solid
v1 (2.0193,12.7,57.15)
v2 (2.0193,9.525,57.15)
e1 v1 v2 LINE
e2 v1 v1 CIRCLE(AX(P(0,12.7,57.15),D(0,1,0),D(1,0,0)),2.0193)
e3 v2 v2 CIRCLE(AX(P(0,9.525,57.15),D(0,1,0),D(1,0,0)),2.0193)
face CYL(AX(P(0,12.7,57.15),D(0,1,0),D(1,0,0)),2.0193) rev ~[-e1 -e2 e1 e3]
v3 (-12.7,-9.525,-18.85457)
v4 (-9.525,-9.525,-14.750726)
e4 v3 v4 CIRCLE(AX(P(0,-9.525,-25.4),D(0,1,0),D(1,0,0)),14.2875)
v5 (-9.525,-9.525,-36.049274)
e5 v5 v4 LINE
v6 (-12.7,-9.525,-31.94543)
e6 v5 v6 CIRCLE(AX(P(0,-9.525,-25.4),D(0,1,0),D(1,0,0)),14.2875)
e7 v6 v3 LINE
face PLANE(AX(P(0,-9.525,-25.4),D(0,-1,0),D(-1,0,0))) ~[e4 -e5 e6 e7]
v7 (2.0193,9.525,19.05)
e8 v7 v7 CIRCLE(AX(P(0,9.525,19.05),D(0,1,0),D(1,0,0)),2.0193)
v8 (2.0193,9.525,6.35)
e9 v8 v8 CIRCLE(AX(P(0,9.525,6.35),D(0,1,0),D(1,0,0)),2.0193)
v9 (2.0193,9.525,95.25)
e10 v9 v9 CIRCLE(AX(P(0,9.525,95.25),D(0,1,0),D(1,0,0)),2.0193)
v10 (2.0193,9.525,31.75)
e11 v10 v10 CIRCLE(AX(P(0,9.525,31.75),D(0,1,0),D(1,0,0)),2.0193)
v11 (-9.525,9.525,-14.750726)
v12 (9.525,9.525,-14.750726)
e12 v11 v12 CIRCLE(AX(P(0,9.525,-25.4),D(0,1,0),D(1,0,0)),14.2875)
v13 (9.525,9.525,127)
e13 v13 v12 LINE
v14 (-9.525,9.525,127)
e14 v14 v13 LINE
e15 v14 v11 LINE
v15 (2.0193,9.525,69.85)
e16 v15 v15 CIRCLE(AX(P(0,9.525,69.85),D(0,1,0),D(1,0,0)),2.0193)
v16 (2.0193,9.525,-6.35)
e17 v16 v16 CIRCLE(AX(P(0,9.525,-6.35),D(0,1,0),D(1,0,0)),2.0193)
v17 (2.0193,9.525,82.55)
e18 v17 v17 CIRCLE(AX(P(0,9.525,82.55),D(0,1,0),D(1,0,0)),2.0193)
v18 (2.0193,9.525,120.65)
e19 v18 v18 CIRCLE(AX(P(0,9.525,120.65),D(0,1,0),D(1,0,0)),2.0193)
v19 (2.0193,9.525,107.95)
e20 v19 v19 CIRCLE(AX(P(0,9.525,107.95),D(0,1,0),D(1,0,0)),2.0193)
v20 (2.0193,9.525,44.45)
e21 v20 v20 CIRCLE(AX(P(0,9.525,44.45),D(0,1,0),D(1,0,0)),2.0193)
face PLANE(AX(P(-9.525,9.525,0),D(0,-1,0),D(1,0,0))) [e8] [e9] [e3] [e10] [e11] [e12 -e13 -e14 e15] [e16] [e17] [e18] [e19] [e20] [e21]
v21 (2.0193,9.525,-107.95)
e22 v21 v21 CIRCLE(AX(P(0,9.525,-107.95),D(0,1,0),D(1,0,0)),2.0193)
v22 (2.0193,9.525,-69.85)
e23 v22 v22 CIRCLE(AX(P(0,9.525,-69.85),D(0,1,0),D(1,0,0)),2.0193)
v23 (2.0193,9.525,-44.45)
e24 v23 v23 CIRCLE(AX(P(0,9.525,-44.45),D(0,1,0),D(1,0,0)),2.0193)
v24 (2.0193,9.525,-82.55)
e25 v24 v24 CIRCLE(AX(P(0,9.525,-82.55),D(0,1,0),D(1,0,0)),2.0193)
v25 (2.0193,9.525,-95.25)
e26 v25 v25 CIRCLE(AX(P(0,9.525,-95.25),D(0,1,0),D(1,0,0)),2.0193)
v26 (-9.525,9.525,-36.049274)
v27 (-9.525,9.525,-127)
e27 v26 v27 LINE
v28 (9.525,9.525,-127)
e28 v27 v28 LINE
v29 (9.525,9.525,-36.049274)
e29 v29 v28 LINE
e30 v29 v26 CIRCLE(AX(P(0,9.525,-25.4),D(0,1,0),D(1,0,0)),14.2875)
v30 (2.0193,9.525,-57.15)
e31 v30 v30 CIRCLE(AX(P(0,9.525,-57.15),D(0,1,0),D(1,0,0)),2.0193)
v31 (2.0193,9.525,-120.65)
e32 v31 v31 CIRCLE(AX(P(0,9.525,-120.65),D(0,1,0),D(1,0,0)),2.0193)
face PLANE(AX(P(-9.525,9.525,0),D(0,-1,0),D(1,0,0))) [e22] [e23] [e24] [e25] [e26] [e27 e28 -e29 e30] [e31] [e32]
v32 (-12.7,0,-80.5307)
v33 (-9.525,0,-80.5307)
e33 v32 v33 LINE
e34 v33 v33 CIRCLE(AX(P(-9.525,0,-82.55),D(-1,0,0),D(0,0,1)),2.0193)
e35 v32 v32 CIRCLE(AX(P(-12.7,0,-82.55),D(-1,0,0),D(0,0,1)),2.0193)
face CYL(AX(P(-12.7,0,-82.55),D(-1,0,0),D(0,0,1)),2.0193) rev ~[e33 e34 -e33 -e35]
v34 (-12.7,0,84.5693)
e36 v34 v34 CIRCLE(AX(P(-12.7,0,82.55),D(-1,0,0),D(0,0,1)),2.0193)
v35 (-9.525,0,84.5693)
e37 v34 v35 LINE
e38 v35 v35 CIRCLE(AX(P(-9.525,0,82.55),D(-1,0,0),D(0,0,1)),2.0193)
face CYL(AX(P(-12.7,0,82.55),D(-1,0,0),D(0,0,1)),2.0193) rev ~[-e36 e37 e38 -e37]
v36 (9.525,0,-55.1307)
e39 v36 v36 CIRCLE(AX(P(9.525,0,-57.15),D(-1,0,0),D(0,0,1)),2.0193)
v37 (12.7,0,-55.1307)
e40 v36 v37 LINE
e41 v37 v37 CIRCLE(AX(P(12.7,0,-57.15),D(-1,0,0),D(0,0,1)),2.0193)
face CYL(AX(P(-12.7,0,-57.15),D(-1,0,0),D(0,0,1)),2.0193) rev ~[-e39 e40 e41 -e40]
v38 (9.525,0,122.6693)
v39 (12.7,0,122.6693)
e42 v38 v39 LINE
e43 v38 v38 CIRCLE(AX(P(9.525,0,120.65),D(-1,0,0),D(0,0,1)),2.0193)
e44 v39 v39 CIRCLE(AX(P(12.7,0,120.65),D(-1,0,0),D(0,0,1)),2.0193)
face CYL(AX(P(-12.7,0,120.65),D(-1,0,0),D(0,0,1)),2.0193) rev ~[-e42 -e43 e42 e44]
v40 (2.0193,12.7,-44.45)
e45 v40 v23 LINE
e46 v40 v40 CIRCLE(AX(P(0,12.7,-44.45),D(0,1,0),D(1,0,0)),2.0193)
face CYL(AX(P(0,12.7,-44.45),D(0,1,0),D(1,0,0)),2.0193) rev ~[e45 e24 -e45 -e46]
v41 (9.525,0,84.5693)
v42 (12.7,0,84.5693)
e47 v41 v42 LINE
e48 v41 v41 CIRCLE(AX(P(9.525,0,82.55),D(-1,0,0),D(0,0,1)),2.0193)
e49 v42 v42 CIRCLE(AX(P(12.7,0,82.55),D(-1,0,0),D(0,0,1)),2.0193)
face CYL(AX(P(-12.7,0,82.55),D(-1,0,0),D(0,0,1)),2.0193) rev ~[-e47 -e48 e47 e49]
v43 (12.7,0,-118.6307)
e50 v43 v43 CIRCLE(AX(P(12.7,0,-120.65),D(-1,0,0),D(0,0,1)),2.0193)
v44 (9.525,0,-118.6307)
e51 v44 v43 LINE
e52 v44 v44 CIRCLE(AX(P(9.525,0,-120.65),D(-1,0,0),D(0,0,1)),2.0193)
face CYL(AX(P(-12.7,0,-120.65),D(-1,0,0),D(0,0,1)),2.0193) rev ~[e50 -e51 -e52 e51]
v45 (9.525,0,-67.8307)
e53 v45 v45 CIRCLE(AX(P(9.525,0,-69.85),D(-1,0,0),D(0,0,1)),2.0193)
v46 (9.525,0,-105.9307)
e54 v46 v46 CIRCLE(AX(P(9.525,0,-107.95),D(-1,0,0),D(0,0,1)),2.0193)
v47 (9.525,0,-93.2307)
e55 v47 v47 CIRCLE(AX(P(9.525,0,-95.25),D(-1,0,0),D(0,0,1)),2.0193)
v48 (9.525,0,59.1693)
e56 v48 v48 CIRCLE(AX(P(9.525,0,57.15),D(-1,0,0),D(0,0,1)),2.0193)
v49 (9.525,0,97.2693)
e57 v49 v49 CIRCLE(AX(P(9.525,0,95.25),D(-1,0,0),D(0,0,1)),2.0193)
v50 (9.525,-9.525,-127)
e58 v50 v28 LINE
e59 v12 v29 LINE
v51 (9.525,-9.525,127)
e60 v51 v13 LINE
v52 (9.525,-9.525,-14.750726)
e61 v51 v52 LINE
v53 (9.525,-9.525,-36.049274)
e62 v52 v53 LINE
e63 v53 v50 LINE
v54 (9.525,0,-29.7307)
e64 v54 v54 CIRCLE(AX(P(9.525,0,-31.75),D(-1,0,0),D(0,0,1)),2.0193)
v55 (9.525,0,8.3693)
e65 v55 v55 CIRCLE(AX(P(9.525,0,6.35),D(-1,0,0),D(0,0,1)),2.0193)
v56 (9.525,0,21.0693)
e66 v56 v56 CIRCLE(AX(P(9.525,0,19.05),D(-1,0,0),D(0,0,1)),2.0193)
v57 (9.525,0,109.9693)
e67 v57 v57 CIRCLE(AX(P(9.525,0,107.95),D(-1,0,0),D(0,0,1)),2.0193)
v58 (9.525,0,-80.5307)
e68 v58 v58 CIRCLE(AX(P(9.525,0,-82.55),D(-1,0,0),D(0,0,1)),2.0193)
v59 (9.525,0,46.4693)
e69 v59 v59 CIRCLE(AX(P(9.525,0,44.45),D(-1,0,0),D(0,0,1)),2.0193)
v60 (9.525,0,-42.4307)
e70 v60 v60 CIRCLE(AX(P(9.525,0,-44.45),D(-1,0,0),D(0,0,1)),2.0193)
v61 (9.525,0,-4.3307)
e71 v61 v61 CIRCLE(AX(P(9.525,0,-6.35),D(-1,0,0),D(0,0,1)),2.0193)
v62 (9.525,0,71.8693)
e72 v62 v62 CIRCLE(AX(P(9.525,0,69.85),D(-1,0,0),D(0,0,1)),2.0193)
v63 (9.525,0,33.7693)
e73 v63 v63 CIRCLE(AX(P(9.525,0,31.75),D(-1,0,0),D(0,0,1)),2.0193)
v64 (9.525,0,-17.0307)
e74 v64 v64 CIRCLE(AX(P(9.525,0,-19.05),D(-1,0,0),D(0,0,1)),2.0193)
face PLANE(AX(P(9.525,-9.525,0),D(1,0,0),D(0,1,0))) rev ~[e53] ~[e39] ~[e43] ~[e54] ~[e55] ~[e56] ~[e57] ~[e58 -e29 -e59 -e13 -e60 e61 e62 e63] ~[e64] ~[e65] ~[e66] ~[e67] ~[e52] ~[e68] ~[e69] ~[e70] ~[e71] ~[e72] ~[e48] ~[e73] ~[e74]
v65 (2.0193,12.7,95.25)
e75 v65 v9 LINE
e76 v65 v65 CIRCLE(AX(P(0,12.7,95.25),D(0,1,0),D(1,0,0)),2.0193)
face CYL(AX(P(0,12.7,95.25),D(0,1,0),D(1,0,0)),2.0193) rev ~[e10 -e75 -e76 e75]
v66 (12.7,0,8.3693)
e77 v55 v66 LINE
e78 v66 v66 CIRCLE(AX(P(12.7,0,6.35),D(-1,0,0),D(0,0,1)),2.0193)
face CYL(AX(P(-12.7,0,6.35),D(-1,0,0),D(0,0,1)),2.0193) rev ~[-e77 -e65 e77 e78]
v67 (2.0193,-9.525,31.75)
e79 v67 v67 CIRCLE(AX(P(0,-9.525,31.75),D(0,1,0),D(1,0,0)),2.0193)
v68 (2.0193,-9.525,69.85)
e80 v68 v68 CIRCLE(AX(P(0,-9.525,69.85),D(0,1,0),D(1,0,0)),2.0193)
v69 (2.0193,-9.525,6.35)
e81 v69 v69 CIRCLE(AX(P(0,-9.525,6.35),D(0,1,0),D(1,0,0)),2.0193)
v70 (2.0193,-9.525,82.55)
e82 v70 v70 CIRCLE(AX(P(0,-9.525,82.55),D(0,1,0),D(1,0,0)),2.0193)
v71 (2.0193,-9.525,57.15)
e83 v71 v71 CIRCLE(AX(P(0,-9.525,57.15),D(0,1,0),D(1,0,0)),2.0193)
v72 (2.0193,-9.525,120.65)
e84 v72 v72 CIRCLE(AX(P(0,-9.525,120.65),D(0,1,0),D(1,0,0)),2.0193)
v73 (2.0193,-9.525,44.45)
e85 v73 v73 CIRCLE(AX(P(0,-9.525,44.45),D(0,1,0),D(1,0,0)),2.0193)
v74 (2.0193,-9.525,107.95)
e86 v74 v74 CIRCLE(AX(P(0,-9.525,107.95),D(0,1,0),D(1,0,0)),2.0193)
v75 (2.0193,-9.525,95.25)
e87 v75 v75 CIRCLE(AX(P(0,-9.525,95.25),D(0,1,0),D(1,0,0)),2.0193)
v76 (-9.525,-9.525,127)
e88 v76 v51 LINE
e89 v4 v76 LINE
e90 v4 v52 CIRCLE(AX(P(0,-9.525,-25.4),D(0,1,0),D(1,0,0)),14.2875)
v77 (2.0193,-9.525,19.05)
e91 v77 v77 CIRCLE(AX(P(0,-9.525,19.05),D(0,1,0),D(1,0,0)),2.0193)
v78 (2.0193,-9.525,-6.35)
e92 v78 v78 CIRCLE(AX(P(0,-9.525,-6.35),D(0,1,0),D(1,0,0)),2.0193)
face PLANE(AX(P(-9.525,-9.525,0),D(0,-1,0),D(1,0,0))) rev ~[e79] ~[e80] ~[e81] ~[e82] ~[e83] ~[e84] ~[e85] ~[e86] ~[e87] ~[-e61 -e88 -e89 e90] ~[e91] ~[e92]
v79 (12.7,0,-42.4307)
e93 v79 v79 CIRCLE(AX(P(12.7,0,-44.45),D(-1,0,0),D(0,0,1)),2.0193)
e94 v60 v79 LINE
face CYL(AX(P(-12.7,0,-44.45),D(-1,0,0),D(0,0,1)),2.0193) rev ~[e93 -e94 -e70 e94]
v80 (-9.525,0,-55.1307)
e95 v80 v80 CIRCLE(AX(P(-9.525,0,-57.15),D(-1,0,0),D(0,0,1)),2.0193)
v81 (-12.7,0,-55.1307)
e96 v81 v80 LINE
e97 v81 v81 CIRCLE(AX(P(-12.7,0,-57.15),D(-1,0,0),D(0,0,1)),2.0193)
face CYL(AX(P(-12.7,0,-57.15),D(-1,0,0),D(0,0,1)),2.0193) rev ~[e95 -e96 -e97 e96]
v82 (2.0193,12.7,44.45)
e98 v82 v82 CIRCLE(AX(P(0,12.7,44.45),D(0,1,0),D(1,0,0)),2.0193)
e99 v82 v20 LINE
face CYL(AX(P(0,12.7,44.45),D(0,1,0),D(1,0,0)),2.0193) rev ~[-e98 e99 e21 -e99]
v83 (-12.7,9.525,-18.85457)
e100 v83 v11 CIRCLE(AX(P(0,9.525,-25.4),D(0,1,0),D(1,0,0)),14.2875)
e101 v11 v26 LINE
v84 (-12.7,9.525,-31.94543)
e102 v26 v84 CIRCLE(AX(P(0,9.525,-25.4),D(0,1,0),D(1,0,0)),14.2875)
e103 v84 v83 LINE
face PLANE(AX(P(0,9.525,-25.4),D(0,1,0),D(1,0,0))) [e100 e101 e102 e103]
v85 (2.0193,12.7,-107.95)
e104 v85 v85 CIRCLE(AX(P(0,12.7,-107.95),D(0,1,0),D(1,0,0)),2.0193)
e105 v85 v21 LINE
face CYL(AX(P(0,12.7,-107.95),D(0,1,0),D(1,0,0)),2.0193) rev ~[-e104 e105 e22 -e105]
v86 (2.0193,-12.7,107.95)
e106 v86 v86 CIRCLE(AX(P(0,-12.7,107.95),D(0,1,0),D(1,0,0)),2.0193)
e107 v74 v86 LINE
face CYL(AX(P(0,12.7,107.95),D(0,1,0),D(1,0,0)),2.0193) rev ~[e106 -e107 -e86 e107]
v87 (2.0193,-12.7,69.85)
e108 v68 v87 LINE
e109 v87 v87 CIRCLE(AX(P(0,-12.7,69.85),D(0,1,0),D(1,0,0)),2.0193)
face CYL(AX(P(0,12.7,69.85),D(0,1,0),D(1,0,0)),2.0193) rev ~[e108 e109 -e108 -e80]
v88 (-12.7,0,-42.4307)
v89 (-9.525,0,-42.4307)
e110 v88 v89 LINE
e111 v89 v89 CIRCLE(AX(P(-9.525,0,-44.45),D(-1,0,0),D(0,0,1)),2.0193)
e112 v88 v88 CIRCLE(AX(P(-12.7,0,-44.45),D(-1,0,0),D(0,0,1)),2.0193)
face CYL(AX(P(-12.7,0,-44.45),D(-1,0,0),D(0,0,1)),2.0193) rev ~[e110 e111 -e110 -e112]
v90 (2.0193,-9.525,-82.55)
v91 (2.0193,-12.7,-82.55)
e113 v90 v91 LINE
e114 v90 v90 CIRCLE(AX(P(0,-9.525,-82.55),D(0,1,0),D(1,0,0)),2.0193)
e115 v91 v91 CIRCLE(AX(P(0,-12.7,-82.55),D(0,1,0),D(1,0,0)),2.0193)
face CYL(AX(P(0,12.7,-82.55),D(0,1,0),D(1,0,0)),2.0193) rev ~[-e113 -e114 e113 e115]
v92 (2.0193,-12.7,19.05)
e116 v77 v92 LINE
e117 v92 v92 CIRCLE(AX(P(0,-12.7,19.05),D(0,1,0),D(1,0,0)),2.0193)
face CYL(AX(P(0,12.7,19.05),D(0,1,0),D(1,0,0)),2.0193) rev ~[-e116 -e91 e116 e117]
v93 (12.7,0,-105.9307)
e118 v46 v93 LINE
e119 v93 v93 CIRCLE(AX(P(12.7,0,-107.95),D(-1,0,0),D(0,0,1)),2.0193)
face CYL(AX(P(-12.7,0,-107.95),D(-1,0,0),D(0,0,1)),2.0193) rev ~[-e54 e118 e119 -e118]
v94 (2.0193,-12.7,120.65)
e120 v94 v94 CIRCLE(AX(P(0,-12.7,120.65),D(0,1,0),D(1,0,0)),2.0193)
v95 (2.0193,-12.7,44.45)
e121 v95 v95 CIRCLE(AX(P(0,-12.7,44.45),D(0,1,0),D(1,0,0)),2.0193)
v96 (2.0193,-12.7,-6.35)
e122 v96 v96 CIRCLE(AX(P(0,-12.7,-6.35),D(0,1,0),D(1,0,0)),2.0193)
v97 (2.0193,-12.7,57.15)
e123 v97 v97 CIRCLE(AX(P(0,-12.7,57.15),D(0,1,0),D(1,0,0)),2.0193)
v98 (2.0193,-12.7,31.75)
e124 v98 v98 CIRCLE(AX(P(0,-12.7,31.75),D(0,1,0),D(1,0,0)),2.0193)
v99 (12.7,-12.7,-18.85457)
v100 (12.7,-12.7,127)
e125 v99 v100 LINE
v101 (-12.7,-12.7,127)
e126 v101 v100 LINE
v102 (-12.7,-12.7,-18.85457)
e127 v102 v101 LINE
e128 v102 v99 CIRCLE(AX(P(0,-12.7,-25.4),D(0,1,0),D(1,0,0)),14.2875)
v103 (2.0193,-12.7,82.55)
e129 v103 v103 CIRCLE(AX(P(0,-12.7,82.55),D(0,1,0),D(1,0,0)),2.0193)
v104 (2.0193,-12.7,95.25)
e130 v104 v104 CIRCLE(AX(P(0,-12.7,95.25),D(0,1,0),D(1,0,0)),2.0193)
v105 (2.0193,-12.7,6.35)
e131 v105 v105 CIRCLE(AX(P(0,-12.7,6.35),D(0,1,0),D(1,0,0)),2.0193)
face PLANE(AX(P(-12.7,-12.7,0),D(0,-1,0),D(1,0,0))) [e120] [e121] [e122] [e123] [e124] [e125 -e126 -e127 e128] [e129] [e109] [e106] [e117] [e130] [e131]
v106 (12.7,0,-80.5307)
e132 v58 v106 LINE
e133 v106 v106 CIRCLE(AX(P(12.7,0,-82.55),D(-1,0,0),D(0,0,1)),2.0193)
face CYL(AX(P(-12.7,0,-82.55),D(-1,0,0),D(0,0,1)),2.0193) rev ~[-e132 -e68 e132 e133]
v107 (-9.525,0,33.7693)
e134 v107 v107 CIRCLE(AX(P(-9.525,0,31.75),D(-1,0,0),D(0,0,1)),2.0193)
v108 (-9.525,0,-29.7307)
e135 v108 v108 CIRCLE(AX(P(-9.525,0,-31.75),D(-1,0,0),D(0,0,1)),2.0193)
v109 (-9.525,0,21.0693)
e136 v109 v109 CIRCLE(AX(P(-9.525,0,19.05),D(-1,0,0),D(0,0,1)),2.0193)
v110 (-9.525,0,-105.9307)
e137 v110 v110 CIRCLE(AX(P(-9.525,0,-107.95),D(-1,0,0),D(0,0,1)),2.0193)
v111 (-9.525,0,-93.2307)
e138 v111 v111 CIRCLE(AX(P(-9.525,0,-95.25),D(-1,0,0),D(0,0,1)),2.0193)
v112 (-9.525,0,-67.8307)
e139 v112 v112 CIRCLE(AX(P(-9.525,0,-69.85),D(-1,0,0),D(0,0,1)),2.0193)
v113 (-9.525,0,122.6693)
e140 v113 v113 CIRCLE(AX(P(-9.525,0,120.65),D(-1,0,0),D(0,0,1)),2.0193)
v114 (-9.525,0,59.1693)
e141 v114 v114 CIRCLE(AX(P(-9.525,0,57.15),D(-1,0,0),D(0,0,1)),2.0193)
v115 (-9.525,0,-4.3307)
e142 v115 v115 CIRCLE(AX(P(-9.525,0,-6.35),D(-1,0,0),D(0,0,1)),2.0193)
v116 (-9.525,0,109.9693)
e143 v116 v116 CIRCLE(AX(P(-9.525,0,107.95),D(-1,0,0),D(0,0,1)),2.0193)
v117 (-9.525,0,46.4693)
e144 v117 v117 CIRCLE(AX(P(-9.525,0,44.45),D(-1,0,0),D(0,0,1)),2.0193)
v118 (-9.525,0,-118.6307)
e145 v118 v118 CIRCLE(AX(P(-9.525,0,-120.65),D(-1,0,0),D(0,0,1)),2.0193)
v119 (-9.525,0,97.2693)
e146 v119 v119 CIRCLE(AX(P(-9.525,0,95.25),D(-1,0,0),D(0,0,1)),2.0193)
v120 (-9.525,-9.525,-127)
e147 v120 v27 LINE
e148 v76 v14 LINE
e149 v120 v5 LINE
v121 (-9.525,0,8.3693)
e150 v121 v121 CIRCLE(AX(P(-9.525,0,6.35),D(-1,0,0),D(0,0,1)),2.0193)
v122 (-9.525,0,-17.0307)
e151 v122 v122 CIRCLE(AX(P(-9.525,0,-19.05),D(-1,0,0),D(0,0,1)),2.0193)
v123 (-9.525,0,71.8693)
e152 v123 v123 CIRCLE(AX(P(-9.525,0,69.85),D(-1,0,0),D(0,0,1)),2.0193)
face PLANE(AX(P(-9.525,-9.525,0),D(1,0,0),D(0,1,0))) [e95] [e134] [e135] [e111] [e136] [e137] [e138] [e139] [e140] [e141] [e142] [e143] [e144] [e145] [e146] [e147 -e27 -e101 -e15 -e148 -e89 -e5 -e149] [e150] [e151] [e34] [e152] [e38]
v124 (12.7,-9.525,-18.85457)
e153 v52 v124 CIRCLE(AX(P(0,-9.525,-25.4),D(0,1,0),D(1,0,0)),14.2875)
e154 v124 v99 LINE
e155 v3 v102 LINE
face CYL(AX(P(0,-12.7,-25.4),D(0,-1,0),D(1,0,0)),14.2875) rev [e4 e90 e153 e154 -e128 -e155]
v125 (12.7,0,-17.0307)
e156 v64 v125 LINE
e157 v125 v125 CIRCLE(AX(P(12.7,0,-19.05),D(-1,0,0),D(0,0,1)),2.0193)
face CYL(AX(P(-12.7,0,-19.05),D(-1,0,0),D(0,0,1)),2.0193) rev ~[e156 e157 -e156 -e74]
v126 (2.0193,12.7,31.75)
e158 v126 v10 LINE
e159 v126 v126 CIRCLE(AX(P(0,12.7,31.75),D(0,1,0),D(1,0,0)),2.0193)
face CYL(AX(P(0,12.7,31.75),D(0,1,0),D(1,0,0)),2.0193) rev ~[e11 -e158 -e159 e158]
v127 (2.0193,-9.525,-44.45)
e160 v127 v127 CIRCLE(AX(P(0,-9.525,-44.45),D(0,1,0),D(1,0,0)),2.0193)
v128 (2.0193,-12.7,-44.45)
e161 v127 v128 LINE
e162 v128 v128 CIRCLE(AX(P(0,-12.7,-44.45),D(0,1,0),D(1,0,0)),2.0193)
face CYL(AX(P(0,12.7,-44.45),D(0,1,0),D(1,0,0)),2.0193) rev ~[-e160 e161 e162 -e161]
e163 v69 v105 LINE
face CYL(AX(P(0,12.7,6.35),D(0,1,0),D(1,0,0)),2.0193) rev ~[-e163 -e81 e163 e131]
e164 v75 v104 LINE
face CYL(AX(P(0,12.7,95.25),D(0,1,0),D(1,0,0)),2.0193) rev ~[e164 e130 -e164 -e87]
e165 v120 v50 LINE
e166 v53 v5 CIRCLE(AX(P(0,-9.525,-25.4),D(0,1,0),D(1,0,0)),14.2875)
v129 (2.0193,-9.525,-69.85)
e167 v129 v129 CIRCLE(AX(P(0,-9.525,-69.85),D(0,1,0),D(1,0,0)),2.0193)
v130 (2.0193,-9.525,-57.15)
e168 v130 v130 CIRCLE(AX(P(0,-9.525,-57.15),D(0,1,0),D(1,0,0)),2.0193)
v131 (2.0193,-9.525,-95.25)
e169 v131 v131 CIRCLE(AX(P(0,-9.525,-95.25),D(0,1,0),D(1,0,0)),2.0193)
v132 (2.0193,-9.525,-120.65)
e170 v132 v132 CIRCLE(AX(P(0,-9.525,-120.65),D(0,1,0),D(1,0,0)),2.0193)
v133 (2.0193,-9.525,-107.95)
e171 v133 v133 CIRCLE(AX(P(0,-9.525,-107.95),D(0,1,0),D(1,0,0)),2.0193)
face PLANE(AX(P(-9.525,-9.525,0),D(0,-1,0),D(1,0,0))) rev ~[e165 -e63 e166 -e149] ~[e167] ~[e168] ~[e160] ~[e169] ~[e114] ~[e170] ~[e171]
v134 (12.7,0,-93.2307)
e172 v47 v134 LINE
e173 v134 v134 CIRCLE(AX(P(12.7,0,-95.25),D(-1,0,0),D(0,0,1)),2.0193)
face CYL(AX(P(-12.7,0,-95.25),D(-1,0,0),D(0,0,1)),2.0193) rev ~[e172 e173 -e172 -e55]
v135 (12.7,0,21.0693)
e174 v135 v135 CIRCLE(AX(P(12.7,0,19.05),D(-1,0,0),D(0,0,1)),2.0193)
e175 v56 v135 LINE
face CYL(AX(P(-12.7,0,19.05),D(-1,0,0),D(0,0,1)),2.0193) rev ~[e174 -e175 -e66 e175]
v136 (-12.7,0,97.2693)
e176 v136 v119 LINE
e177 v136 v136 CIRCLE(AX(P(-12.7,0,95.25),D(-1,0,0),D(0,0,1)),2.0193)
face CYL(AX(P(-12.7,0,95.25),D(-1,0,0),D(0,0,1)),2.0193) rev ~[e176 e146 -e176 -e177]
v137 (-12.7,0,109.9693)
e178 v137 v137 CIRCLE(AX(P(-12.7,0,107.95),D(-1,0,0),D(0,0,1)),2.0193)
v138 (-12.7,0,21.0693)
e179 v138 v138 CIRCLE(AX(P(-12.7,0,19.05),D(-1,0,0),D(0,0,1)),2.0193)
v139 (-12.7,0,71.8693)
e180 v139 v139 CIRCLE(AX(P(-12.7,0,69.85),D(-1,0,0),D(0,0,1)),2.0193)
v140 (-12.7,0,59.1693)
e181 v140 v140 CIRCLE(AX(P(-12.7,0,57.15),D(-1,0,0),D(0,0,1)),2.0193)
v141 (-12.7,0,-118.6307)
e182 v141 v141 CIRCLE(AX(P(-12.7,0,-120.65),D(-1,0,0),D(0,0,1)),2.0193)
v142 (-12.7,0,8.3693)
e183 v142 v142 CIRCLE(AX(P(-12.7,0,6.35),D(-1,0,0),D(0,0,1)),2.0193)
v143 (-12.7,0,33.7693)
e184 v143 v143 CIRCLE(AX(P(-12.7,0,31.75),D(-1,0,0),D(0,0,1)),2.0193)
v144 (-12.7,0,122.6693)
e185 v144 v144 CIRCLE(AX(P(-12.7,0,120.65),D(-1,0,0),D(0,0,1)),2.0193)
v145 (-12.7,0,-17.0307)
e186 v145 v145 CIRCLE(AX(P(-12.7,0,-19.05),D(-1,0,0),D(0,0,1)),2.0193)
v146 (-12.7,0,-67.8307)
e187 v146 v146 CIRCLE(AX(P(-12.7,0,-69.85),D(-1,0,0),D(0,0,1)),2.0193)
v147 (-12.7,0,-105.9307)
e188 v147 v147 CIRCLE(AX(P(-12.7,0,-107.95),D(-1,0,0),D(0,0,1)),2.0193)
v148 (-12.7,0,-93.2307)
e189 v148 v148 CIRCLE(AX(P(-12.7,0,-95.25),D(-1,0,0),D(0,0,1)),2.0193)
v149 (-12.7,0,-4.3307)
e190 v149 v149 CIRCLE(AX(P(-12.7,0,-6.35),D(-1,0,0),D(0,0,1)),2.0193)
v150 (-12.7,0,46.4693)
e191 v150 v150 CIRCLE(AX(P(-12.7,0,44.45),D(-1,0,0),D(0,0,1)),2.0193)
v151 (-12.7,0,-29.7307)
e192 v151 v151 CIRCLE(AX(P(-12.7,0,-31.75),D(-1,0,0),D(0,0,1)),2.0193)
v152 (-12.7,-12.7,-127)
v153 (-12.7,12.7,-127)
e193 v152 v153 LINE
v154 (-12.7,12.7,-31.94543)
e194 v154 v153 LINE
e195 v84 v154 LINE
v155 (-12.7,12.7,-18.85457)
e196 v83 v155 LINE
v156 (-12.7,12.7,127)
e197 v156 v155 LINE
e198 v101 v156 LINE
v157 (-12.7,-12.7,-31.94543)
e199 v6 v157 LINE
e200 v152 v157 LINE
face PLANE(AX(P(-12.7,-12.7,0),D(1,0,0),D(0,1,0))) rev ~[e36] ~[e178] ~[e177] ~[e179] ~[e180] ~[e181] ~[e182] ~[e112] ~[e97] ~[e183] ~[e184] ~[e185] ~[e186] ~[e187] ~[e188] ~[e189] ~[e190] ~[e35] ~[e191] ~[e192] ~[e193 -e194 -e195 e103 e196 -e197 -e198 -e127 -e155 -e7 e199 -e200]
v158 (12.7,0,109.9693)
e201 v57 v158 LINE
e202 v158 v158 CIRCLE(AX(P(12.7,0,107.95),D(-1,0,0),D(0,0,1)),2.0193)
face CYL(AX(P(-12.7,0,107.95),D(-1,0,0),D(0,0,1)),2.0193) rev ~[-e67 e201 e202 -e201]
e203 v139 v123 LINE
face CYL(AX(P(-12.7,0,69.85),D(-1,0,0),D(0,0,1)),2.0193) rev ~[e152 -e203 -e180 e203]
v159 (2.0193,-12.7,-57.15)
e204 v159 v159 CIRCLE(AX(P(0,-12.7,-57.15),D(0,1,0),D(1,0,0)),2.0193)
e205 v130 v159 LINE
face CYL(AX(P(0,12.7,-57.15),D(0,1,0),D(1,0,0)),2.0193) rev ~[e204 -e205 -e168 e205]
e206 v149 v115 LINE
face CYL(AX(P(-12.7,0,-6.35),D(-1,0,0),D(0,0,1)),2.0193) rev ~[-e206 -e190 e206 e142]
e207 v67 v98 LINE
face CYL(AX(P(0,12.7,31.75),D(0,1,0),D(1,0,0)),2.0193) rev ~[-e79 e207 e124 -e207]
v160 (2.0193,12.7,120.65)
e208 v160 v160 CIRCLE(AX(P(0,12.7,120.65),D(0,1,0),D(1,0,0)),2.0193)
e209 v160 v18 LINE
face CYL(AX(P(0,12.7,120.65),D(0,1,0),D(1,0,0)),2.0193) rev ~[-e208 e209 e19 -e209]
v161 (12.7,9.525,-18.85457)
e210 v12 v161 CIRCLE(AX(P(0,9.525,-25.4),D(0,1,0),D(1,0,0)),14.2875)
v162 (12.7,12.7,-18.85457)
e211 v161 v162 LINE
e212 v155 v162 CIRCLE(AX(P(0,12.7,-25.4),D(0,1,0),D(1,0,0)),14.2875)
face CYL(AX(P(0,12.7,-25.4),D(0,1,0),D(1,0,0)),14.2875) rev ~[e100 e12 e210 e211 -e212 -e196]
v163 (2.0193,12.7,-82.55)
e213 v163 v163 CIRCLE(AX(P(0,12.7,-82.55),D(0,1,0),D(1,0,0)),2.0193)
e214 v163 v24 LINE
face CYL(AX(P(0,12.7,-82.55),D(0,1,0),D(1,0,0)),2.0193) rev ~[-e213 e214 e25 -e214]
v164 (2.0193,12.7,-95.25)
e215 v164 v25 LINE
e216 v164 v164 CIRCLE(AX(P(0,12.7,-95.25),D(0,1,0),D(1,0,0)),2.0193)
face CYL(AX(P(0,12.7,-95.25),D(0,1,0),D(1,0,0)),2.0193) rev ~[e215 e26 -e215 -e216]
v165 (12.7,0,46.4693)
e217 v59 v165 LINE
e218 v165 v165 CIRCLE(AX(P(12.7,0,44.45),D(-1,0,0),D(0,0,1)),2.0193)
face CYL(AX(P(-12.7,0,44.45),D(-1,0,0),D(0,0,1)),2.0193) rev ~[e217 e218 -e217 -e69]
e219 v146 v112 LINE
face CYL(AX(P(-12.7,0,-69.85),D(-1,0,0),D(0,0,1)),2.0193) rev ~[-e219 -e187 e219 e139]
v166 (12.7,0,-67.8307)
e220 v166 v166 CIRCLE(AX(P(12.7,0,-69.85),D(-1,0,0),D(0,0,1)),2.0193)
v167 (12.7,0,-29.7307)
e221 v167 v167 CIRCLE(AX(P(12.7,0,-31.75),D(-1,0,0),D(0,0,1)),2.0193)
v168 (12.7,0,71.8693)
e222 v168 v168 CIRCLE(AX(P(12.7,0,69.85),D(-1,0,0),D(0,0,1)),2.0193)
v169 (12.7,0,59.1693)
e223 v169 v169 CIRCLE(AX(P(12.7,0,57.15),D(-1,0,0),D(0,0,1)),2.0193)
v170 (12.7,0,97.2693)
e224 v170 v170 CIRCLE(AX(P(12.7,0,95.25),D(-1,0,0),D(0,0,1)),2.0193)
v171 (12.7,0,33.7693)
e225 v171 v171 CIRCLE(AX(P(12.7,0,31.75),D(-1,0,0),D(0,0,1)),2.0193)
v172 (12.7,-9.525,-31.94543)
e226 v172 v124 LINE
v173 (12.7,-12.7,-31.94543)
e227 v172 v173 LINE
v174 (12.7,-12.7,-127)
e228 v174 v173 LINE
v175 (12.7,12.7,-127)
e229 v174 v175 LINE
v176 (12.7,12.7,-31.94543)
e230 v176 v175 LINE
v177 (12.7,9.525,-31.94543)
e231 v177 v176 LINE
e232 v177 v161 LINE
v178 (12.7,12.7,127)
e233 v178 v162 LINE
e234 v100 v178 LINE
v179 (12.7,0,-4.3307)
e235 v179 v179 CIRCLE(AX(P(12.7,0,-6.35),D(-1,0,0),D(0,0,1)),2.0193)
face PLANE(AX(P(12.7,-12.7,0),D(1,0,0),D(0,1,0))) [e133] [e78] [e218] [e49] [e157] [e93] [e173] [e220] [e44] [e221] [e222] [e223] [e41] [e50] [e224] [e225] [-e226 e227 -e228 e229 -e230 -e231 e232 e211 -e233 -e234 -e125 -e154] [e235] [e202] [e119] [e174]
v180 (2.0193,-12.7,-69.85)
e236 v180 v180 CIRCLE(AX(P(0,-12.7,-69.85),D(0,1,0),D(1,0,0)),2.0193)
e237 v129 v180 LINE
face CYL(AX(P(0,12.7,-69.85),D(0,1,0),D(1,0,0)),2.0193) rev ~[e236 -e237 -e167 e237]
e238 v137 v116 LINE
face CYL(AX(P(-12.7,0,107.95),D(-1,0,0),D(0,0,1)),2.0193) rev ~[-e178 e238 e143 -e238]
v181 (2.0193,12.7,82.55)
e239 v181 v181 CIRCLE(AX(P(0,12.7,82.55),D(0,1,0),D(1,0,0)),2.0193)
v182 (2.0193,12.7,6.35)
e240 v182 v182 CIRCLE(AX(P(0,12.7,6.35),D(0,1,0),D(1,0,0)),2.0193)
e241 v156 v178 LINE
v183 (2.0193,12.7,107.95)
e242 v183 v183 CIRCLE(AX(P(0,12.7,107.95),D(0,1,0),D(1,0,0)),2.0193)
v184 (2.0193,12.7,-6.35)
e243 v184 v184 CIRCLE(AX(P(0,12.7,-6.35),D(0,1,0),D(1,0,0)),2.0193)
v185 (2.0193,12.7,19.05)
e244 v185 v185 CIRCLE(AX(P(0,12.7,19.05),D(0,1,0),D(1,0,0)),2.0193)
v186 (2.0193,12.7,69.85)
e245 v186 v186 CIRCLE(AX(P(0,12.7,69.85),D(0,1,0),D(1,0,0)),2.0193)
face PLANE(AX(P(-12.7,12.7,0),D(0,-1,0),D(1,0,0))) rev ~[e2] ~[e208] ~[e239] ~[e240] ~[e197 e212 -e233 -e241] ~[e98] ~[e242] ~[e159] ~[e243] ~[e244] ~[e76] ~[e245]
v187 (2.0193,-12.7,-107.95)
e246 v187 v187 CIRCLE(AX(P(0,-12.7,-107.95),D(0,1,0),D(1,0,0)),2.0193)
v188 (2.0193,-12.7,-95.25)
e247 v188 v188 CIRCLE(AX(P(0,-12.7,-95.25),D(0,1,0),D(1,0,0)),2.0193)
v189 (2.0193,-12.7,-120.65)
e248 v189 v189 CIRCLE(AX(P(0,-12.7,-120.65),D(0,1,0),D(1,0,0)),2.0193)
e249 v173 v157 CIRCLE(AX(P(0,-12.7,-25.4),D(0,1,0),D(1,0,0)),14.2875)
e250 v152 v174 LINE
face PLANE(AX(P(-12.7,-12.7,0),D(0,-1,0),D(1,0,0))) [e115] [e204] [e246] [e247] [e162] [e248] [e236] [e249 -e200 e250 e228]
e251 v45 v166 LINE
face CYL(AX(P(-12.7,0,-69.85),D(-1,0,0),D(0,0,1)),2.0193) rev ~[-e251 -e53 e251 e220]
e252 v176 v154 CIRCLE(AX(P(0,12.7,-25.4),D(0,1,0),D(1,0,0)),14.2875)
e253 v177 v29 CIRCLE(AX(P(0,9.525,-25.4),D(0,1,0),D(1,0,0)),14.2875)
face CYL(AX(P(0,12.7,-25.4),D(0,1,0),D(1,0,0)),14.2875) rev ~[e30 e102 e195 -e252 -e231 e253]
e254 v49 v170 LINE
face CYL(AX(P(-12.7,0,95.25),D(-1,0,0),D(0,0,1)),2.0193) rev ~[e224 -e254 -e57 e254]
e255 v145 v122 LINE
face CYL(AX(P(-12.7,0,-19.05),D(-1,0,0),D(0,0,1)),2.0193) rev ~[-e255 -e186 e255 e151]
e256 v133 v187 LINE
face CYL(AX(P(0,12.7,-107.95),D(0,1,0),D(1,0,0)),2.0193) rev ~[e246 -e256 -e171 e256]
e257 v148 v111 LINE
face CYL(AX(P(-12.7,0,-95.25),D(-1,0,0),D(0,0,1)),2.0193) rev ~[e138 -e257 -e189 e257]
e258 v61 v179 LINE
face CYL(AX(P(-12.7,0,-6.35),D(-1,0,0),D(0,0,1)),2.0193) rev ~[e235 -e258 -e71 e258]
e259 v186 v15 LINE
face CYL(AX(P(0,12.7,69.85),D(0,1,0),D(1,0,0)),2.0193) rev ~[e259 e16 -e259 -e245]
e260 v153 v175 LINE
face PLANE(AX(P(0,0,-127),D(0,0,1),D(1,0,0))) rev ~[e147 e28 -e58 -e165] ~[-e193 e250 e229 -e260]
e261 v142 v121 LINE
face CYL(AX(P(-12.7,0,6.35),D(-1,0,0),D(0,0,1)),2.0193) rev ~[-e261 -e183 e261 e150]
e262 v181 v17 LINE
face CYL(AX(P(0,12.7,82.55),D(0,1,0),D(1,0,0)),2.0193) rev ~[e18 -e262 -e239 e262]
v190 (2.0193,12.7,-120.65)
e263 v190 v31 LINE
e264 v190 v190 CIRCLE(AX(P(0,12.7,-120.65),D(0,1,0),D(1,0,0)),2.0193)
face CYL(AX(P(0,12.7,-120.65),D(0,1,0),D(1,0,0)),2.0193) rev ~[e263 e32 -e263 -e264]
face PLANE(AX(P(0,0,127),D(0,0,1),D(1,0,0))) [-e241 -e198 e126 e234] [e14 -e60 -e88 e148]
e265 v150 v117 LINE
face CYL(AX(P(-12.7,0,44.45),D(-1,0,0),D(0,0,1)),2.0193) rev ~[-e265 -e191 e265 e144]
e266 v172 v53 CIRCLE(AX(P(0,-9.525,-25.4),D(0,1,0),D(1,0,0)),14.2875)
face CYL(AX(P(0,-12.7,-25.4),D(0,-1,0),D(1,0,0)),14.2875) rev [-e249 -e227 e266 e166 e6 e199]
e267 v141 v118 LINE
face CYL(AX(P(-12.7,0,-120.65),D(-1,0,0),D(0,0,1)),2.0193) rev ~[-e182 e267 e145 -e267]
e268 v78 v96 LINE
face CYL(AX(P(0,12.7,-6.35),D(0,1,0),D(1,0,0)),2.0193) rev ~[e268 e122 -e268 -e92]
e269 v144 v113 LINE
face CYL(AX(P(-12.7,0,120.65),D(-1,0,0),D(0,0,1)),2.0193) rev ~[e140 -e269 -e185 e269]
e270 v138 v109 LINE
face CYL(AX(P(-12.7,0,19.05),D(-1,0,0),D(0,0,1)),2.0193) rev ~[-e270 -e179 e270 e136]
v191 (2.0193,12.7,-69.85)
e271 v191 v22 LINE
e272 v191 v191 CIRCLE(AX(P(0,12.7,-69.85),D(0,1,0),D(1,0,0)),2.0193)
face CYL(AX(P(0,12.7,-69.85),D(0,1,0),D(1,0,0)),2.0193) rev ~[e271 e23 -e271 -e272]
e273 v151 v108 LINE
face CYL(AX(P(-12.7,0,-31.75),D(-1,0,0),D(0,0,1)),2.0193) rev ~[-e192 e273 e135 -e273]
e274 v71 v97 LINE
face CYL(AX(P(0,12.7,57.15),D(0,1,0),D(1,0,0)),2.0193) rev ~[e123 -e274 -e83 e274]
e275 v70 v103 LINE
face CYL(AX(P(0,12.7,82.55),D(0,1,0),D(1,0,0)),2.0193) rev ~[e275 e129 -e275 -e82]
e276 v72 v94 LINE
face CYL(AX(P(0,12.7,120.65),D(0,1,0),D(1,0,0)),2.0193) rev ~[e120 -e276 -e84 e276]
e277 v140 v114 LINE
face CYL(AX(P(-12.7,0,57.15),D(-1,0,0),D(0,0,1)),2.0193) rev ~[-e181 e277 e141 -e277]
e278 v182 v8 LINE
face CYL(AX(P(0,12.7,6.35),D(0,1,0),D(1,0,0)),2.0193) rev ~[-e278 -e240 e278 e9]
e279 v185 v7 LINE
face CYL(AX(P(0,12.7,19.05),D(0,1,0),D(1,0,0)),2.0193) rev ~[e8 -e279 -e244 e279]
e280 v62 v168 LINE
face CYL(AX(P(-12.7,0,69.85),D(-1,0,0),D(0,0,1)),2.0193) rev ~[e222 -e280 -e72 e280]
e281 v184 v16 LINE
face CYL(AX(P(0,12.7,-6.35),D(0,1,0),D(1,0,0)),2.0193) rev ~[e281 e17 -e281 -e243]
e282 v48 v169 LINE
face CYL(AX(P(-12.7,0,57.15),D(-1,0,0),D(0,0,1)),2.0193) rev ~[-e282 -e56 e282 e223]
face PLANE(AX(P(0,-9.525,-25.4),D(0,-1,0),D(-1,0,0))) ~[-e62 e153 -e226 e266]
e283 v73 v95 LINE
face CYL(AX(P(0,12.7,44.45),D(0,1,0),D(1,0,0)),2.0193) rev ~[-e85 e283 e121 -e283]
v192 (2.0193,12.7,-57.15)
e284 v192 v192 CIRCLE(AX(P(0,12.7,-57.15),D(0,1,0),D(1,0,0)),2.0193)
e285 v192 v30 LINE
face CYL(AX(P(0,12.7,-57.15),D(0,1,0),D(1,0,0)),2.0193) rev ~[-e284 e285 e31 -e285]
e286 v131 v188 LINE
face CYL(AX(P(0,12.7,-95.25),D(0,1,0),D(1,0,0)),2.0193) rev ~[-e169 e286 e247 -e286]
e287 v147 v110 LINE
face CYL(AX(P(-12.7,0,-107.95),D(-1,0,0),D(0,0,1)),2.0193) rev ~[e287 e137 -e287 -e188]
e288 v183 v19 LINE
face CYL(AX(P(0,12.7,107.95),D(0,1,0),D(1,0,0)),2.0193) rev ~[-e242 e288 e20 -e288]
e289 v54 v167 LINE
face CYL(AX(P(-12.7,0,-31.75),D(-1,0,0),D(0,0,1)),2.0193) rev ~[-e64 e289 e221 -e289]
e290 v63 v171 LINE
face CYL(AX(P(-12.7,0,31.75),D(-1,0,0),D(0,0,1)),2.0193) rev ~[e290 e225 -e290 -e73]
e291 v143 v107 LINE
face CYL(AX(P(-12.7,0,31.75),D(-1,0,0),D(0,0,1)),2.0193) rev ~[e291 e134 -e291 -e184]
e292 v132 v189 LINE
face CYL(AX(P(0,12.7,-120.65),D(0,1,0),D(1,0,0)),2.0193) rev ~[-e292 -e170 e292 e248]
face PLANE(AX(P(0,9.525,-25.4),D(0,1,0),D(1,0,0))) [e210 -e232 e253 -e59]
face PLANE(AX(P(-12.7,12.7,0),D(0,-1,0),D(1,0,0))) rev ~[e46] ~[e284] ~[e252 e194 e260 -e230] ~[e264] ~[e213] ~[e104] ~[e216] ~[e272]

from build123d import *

# Parameters (mm, degrees)
SKETCH1_W           = 25.4
SKETCH1_H           = 25.4
SKETCH1_W_2         = 19.05
SKETCH1_H_2         = 19.05
BOSS_EXTRUDE1_DEPTH = 127
SKETCH3_R           = 2.0193
CUT_EXTRUDE1_DEPTH  = 26.4
LPATTERN1_COUNT     = 20
LPATTERN1_PITCH     = 12.7
SKETCH4_R           = 2.0193
CUT_EXTRUDE2_DEPTH  = 26.4
LPATTERN2_COUNT     = 20
LPATTERN2_PITCH     = 12.7
SKETCH8_R           = 14.2875
CUT_EXTRUDE6_DEPTH  = 3.175


with BuildPart() as part:
    # Sketch1 → Boss-Extrude1 (new body, symmetric)
    with BuildSketch(Plane.XY):
        Rectangle(SKETCH1_W, SKETCH1_H)
        Rectangle(SKETCH1_W_2, SKETCH1_H_2, mode=Mode.SUBTRACT)
    extrude(amount=BOSS_EXTRUDE1_DEPTH, both=True)

    # Sketch3 → Cut-Extrude1 (cut, through all)
    with BuildSketch(Plane(origin=(0, 12.7, 0), x_dir=(1, 0, 0), z_dir=(0, 1, 0))):
        with Locations((0, -120.65)):
            Circle(SKETCH3_R)
    cut_extrude1 = extrude(amount=-CUT_EXTRUDE1_DEPTH, mode=Mode.SUBTRACT)

    # LPattern1: Cut-Extrude1 ×20
    with Locations(*[(0, 0, -i * LPATTERN1_PITCH) for i in range(1, LPATTERN1_COUNT)]):
        add(cut_extrude1, mode=Mode.SUBTRACT)

    # Sketch4 → Cut-Extrude2 (cut, through all)
    with BuildSketch(Plane.ZY.offset(12.7)):
        with Locations((120.65, 0)):
            Circle(SKETCH4_R)
    cut_extrude2 = extrude(amount=-CUT_EXTRUDE2_DEPTH, mode=Mode.SUBTRACT)

    # LPattern2: Cut-Extrude2 ×20
    with Locations(*[(0, 0, -i * LPATTERN2_PITCH) for i in range(1, LPATTERN2_COUNT)]):
        add(cut_extrude2, mode=Mode.SUBTRACT)

    # Sketch8 → Cut-Extrude6 (cut)
    with BuildSketch(Plane(origin=(0, 12.7, 0), x_dir=(1, 0, 0), z_dir=(0, 1, 0))):
        with Locations((0, 25.4)):
            Circle(SKETCH8_R)
    cut_extrude6 = extrude(amount=-CUT_EXTRUDE6_DEPTH, mode=Mode.SUBTRACT)

    # Mirror4: Cut-Extrude6 across plane
    add(cut_extrude6.mirror(Plane.ZX), mode=Mode.SUBTRACT)


solid = part.part
